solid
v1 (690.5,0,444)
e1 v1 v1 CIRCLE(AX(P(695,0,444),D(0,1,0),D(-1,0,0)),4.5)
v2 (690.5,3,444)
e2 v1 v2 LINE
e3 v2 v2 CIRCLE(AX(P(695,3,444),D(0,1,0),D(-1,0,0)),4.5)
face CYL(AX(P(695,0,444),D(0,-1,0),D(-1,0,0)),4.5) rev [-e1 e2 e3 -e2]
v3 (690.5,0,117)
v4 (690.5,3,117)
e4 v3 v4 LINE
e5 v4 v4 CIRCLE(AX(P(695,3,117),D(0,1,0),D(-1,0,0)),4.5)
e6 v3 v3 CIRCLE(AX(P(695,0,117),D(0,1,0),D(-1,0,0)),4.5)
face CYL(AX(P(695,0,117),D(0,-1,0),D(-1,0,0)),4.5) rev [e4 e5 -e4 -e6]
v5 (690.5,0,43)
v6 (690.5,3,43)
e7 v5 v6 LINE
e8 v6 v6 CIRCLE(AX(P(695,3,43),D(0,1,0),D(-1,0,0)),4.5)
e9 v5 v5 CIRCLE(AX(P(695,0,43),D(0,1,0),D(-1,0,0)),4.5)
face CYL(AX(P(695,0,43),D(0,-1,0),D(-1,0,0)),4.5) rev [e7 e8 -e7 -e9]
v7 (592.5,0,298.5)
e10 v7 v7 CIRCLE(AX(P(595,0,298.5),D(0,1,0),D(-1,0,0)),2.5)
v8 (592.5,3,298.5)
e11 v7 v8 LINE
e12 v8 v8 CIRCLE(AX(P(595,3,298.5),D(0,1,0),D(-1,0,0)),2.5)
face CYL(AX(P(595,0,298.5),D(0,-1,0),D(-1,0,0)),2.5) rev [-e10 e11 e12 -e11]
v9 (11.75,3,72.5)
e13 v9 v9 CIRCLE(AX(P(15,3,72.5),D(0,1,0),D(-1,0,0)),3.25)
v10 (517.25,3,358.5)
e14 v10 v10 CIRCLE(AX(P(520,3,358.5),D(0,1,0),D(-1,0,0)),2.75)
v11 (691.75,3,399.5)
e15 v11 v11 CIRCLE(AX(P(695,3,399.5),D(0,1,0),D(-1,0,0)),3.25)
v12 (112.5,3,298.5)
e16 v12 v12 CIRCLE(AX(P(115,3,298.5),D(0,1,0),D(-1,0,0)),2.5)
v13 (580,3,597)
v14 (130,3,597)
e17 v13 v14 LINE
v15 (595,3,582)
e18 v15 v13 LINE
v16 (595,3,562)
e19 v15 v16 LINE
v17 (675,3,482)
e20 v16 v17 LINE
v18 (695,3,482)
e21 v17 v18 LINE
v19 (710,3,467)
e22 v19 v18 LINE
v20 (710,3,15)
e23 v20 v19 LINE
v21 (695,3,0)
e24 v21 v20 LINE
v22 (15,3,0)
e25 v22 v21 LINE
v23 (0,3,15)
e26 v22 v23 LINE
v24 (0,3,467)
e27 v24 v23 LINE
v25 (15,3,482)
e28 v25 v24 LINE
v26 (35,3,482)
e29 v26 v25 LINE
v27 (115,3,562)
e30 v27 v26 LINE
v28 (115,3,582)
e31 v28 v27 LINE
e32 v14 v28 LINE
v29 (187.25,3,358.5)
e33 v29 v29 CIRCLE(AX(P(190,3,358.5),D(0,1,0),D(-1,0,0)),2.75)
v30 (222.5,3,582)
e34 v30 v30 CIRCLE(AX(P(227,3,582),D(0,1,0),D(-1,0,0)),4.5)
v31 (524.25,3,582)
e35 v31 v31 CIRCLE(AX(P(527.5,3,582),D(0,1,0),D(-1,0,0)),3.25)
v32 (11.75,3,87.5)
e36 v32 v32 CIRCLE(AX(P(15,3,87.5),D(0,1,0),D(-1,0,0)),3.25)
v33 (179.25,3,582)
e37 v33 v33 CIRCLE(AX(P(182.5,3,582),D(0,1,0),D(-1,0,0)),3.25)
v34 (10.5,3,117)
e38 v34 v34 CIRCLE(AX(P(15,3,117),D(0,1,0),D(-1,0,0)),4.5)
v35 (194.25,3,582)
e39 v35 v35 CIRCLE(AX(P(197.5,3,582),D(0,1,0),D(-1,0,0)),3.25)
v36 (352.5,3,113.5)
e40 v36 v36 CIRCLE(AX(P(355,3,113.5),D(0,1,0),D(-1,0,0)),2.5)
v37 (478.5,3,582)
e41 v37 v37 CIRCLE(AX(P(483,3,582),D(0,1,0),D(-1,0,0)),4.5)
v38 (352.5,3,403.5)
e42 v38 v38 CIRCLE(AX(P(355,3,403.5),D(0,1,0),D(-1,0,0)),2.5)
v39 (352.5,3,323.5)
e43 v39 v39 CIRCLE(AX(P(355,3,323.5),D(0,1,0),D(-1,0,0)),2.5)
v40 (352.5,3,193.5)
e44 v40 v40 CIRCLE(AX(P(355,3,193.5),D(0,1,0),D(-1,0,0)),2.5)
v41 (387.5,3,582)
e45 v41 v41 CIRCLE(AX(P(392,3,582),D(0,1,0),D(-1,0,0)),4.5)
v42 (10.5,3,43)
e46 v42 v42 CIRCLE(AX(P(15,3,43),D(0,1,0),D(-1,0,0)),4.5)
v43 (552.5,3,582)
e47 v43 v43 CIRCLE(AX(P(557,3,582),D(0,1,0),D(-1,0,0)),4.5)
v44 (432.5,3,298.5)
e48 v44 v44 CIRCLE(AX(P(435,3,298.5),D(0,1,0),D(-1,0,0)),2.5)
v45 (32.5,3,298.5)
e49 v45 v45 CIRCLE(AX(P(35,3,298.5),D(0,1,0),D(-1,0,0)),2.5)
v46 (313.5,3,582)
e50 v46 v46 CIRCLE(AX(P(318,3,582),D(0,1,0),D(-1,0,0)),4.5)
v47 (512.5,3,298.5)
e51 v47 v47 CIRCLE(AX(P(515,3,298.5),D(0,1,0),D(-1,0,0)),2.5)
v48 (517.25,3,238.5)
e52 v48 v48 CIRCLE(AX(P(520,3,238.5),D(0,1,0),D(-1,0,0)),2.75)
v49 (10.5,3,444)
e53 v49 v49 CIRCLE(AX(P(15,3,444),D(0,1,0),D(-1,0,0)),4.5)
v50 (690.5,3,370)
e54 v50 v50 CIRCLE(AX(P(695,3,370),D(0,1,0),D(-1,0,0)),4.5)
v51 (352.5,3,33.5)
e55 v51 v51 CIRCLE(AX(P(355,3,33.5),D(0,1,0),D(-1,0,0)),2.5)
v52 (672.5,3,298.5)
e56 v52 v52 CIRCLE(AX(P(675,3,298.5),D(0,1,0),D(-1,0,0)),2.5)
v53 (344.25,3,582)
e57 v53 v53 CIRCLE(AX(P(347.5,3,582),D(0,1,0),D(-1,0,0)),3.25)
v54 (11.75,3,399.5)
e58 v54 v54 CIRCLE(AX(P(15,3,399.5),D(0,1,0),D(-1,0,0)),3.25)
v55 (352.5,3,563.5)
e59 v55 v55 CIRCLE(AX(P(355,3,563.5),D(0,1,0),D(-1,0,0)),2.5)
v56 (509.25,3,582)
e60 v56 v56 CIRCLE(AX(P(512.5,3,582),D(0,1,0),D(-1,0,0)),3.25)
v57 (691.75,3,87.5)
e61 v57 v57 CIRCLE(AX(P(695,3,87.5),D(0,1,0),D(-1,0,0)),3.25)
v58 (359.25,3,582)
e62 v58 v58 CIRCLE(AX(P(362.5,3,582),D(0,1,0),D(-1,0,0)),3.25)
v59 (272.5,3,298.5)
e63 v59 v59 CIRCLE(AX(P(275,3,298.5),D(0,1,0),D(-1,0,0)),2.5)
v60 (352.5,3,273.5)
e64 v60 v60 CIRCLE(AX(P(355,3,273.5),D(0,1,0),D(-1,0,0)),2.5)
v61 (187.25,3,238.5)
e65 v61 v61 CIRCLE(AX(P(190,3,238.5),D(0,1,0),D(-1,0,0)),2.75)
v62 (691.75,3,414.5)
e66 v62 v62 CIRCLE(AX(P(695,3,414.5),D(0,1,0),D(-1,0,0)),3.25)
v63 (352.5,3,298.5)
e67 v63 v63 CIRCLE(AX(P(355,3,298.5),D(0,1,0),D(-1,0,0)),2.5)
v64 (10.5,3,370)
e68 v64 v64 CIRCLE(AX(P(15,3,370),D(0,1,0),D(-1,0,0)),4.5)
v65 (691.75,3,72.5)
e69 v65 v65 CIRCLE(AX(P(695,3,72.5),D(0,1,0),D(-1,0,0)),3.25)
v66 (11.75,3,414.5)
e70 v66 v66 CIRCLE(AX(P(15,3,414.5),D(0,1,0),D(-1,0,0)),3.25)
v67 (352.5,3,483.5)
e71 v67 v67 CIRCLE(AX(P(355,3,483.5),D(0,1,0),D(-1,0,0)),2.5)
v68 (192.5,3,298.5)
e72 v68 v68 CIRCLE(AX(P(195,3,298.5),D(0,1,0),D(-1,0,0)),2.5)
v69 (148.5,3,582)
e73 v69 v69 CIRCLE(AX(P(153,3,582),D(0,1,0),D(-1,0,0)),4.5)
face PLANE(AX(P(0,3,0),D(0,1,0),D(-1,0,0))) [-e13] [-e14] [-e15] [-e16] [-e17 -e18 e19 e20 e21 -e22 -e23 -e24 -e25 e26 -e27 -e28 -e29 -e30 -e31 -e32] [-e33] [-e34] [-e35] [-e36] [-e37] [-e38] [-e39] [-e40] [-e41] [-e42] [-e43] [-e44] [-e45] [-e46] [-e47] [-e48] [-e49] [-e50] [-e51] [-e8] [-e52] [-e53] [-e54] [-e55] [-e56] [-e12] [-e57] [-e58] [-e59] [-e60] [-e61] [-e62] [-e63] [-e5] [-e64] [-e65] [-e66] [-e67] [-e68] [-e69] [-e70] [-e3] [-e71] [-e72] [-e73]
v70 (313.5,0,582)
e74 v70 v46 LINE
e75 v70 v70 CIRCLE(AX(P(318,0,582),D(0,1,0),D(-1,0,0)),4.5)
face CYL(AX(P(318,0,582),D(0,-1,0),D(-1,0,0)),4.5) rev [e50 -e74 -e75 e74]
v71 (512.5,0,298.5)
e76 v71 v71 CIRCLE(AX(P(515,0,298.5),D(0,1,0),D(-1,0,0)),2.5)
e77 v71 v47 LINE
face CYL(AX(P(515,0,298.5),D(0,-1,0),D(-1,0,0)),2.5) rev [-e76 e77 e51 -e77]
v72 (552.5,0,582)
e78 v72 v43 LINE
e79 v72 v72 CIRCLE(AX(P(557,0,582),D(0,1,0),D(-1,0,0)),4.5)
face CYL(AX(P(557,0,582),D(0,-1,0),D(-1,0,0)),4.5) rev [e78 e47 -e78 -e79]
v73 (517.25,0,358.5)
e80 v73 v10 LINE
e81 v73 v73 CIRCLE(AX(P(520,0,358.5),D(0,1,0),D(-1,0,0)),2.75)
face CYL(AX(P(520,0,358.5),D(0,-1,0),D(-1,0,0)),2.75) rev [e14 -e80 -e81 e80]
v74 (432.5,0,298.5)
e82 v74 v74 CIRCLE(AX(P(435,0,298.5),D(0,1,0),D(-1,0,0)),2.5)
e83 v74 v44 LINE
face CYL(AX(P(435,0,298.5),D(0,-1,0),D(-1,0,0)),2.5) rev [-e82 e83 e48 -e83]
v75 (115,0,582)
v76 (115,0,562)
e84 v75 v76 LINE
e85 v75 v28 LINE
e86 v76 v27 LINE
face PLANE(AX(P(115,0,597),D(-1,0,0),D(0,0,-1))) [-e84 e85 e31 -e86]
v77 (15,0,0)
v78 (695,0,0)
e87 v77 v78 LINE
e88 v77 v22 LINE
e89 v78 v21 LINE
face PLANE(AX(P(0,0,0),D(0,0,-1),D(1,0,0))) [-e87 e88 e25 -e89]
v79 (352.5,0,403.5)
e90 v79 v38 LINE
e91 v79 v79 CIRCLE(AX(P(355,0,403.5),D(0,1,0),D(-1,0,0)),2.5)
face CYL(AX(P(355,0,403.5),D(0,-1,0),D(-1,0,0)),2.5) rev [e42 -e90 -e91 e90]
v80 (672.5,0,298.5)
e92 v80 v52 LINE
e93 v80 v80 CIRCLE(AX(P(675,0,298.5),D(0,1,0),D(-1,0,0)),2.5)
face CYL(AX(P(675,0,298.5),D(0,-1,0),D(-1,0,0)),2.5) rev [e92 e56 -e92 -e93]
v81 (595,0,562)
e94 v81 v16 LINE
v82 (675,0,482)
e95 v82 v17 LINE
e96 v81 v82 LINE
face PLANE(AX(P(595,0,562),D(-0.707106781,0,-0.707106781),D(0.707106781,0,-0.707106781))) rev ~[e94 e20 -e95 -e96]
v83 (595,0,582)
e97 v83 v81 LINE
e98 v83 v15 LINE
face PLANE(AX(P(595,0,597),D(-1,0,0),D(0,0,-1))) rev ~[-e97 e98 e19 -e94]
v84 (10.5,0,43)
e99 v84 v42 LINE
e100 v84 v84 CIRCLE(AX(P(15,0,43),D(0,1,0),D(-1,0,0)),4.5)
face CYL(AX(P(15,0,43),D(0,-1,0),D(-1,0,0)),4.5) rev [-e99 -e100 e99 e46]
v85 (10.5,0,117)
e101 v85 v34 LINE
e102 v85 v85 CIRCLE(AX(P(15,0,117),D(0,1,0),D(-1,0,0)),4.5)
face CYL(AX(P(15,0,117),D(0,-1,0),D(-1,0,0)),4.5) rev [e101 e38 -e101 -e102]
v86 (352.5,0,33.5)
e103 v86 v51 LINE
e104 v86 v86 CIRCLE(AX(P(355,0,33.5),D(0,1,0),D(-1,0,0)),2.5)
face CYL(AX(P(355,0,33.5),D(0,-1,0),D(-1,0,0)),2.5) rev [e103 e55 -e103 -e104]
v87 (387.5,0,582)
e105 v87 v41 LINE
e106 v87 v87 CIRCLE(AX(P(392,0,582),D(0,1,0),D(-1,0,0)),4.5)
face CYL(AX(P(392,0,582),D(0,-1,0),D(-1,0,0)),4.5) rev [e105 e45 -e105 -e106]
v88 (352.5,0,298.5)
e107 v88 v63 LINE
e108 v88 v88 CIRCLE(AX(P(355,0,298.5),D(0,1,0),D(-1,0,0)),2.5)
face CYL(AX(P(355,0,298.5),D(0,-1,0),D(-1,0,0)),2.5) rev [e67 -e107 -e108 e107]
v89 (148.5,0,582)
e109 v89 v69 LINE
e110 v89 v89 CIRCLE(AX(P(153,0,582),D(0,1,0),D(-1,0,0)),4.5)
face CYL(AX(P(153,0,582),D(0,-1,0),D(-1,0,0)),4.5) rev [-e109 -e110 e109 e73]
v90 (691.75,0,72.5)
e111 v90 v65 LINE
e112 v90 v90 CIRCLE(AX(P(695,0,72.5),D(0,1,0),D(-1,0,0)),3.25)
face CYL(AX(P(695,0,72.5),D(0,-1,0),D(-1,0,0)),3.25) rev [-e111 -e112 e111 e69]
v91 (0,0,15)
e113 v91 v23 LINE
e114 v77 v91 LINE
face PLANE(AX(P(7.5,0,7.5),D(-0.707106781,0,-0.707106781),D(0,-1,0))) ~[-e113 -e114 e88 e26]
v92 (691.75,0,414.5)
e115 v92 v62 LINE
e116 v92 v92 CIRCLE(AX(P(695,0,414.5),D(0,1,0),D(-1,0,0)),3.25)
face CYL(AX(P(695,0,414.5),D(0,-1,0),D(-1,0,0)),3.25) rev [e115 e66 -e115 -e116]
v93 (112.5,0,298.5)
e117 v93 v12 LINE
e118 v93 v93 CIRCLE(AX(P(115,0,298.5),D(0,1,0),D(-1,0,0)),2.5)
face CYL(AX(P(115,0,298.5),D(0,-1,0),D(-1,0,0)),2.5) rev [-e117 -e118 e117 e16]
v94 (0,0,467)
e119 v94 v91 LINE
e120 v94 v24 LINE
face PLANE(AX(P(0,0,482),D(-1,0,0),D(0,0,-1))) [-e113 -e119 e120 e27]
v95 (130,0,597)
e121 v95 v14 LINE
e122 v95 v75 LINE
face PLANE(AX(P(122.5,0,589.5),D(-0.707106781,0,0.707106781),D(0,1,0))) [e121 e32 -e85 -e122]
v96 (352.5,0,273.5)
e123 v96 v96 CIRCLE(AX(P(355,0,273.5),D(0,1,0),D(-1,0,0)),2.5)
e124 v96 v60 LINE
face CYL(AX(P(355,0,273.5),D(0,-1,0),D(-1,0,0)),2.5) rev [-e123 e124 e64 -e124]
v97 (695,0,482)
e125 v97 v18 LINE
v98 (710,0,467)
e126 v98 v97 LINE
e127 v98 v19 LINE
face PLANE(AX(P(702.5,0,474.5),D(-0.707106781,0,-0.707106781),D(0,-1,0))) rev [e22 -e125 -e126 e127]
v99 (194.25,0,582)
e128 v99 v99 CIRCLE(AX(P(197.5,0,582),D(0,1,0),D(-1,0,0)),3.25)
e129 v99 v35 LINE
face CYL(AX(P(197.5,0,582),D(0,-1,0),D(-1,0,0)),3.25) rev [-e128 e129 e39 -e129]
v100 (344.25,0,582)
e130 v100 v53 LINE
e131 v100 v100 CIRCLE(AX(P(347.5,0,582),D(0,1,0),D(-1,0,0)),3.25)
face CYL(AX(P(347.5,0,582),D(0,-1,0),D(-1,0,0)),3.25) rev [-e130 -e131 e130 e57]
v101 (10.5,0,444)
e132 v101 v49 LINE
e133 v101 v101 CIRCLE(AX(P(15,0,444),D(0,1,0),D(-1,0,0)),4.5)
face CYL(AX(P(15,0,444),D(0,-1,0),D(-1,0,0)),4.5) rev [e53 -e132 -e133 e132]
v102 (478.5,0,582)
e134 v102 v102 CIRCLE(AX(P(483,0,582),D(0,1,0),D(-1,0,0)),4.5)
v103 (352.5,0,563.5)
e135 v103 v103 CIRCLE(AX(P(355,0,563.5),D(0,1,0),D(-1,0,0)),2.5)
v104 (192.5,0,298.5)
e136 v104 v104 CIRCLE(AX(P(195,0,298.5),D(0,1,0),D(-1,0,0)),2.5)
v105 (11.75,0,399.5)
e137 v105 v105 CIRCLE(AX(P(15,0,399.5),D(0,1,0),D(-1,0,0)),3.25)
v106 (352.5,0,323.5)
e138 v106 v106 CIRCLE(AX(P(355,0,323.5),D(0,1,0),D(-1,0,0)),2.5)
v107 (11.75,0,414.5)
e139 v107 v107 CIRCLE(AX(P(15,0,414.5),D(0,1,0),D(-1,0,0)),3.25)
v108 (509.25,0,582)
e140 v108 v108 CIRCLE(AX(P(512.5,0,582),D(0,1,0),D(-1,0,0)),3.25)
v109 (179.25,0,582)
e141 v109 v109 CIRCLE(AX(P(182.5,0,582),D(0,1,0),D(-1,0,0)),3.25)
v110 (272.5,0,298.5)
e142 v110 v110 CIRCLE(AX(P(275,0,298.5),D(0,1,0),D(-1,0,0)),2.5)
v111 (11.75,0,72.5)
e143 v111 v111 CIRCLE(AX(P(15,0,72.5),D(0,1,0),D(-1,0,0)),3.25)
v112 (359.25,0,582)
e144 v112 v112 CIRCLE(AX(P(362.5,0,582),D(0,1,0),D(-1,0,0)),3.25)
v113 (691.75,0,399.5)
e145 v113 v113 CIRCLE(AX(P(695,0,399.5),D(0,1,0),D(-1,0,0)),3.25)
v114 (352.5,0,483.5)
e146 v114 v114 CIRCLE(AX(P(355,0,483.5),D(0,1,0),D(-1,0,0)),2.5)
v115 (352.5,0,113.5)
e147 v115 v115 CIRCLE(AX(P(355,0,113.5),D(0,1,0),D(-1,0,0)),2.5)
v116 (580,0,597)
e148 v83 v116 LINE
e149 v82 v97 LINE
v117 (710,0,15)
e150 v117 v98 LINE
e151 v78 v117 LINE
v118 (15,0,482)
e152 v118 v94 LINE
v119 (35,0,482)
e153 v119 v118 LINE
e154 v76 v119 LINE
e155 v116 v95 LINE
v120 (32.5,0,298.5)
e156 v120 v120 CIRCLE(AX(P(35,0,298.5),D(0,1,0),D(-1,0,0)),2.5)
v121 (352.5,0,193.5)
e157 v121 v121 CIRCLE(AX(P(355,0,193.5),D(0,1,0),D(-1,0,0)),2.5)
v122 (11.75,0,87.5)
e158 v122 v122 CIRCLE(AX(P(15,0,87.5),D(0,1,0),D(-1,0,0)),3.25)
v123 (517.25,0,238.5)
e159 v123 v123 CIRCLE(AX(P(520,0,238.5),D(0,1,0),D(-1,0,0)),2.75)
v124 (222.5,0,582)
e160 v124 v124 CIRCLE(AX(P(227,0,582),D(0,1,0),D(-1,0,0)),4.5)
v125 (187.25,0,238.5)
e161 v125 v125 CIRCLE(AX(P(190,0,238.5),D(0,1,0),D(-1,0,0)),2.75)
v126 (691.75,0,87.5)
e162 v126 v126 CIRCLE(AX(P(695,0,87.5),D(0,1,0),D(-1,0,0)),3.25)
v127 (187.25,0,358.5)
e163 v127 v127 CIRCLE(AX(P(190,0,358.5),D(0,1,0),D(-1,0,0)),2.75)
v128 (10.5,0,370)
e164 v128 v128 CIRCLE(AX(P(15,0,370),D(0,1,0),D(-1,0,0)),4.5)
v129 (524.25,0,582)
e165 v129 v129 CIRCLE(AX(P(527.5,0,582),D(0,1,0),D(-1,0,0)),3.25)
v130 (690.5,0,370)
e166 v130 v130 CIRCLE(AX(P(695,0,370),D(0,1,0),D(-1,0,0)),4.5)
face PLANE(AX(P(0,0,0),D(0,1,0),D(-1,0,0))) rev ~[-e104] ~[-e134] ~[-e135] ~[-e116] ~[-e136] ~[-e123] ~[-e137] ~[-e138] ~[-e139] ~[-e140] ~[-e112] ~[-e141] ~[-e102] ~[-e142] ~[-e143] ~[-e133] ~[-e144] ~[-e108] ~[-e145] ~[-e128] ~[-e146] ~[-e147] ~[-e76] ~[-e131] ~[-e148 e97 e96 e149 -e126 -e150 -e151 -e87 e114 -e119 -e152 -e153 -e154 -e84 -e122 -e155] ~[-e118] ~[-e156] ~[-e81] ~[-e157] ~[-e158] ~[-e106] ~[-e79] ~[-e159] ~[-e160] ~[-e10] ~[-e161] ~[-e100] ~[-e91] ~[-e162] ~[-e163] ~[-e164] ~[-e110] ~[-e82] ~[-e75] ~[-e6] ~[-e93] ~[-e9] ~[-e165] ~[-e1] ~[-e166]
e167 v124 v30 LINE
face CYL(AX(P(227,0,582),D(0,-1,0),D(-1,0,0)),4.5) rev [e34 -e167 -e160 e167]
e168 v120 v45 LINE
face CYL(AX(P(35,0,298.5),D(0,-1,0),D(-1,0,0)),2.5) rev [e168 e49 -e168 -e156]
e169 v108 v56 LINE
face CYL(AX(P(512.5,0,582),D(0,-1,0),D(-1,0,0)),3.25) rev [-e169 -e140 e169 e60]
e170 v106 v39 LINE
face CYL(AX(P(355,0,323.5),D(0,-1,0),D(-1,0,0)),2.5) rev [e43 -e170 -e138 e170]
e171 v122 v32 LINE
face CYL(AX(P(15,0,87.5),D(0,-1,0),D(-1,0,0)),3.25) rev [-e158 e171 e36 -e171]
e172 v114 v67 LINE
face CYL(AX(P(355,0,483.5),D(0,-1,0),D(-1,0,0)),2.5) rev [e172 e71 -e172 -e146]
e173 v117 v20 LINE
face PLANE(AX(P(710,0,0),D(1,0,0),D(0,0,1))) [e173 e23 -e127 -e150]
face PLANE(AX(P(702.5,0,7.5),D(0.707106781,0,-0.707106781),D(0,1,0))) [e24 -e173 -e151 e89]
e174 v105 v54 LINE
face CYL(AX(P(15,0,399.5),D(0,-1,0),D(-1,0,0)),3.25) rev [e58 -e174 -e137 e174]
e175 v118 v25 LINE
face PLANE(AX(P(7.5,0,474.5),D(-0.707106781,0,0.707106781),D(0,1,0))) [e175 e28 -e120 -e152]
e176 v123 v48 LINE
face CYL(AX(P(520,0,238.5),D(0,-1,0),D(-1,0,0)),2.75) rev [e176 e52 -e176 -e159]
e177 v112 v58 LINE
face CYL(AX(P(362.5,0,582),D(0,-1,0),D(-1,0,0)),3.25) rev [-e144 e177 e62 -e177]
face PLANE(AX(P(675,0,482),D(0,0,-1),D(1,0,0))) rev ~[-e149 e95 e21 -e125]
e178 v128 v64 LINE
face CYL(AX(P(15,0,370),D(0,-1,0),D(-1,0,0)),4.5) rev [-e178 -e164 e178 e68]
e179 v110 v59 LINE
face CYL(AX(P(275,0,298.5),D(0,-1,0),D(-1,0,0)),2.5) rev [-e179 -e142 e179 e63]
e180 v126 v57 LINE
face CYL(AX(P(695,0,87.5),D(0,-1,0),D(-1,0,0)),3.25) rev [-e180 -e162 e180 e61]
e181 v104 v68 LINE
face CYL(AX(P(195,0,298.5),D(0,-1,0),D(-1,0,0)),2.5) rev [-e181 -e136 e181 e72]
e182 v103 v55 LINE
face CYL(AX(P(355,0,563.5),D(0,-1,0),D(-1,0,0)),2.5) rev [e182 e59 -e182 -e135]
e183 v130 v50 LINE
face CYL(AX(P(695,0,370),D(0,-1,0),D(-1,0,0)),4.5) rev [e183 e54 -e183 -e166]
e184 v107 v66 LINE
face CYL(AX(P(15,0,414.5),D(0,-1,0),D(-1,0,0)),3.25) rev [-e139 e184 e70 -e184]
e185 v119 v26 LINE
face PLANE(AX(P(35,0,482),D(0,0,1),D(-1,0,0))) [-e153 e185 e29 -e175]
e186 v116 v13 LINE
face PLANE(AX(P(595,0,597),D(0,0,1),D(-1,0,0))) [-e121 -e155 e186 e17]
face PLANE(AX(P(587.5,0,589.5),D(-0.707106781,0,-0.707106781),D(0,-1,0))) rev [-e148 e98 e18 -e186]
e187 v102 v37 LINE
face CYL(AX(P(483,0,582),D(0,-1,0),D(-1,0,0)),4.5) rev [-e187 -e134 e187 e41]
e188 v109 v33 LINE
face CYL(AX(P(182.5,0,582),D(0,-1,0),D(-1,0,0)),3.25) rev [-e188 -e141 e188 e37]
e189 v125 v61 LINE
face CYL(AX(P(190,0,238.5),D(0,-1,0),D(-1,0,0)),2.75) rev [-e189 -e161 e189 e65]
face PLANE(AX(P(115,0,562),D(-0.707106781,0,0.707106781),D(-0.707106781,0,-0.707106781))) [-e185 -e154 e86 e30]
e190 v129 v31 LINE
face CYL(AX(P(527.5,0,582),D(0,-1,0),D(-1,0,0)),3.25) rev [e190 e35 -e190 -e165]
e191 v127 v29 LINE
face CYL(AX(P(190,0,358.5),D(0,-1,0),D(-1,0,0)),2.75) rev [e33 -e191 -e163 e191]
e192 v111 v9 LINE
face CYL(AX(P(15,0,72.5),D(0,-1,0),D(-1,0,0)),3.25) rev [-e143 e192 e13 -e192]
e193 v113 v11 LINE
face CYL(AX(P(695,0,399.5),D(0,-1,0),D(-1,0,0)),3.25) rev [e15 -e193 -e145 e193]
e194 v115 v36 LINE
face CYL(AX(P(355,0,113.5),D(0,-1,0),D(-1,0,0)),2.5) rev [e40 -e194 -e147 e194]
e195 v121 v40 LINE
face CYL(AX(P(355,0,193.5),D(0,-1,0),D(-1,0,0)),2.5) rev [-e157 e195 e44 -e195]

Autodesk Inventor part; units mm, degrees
ref_plane "YZ Plane" through (0, 0, 0) normal (1, 0, 0) x (0, 1, 0)
ref_plane "XZ Plane" through (0, 0, 0) normal (0, 1, 0) x (-1, 0, 0)
ref_plane "XY Plane" through (0, 0, 0) normal (0, 0, 1) x (1, 0, 0)
sketch "Skizze1" plane through (0, 0, 0) normal (0, 1, 0) x (-1, 0, 0)
  line L0 (0, 0) -> (-710, 0)
  line L1 (-710, 0) -> (-710, 597)
  line L2 (-710, 597) -> (0, 597)
  line L3 (0, 597) -> (0, 0)
  line L4 (-355, 0) -> (-355, 597) construction
  line L5 (0, 298.5) -> (-710, 298.5) construction
  line L6 (-190, 0) -> (-190, 597) construction
  line L7 (-520, 0) -> (-520, 597) construction
  line L8 (-710, 407) -> (0, 407) construction
  line L9 (0, 80) -> (-710, 80) construction
  line L10 (-695, 582) -> (-695, 15) construction
  line L11 (-695, 15) -> (-15, 15) construction
  line L12 (-15, 15) -> (-15, 582) construction
  line L13 (-15, 582) -> (-695, 582) construction
  line L14 (-23, 362) -> (-7, 362) construction
  line L15 (-7, 362) -> (-7, 452) construction
  line L16 (-7, 452) -> (-23, 452) construction
  line L17 (-23, 452) -> (-23, 362) construction
  line L18 (-23, 362) -> (-7, 452) construction
  line L19 (-7, 362) -> (-23, 452) construction
  line L20 (-142.5, 590) -> (-237.5, 590) construction
  line L21 (-237.5, 590) -> (-237.5, 574) construction
  line L22 (-237.5, 574) -> (-142.5, 574) construction
  line L23 (-142.5, 574) -> (-142.5, 590) construction
  line L24 (-142.5, 590) -> (-237.5, 574) construction
  line L25 (-237.5, 590) -> (-142.5, 574) construction
  line L26 (-307.5, 590) -> (-402.5, 590) construction
  line L27 (-402.5, 590) -> (-402.5, 574) construction
  line L28 (-402.5, 574) -> (-307.5, 574) construction
  line L29 (-307.5, 574) -> (-307.5, 590) construction
  line L30 (-307.5, 590) -> (-402.5, 574) construction
  line L31 (-402.5, 590) -> (-307.5, 574) construction
  circle A0 centre (-15, 399.5) radius 3.25
  circle A1 centre (-15, 370) radius 4.5
  circle A2 centre (-15, 414.5) radius 3.25
  circle A3 centre (-15, 444) radius 4.5
  circle A4 centre (-182.5, 582) radius 3.25
  circle A5 centre (-153, 582) radius 4.5
  circle A6 centre (-318, 582) radius 4.5
  circle A7 centre (-347.5, 582) radius 3.25
  circle A8 centre (-197.5, 582) radius 3.25
  circle A9 centre (-227, 582) radius 4.5
  circle A10 centre (-392, 582) radius 4.5
  circle A11 centre (-362.5, 582) radius 3.25
  circle A12 centre (-695, 399.5) radius 3.25
  circle A13 centre (-695, 370) radius 4.5
  circle A14 centre (-695, 444) radius 4.5
  circle A15 centre (-695, 414.5) radius 3.25
  circle A16 centre (-527.5, 582) radius 3.25
  circle A17 centre (-557, 582) radius 4.5
  circle A18 centre (-512.5, 582) radius 3.25
  circle A19 centre (-483, 582) radius 4.5
  circle A20 centre (-15, 43) radius 4.5
  circle A21 centre (-15, 72.5) radius 3.25
  circle A22 centre (-190, 238.5) radius 2.75
  circle A23 centre (-190, 358.5) radius 2.75
  circle A24 centre (-520, 238.5) radius 2.75
  circle A25 centre (-520, 358.5) radius 2.75
  circle A26 centre (-15, 117) radius 4.5
  circle A27 centre (-15, 87.5) radius 3.25
  circle A28 centre (-695, 43) radius 4.5
  circle A29 centre (-695, 72.5) radius 3.25
  circle A30 centre (-695, 87.5) radius 3.25
  circle A31 centre (-695, 117) radius 4.5
  line L32 (-115, 597) -> (-115, 562)
  line L33 (-115, 562) -> (-35, 482)
  line L34 (-35, 482) -> (0, 482)
  line L35 (-595, 597) -> (-595, 562)
  line L36 (-595, 562) -> (-675, 482)
  line L37 (-675, 482) -> (-710, 482)
  point P0 (-15, 407)
  point P1 (-190, 582)
  point P2 (-355, 582)
  point P3 (-190, 298.5)
  dimension "d0" = 710
  dimension "d1" = 597
  dimension "d2" = 190
  dimension "d3" = 80
  dimension "d4" = 190
  dimension "d5" = 190
  dimension "d6" = 15
  dimension "d7" = 16
  dimension "d8" = 90
  dimension "d9" = 95
  dimension "d10" = 16
  dimension "d11" = 95
  dimension "d12" = 16
  dimension "d13" = 6.5
  dimension "d14" = 7.5
  dimension "d15" = 9
  dimension "d16" = 37
  dimension "d17" = 6.5
  dimension "d18" = 9
  dimension "d19" = 7.5
  dimension "d20" = 37
  dimension "d21" = 6.5
  dimension "d22" = 9
  dimension "d23" = 7.5
  dimension "d24" = 37
  dimension "d30" = 5.5
  dimension "d31" = 60
  dimension "d34" = 6.5
  dimension "d35" = 9
  dimension "d36" = 7.5
  dimension "d37" = 37
  dimension "d80" = 680
  dimension "d81" = 45
  dimension "d83" = 115
  dimension "d84" = 115
  dimension "d85" = 35
extrude "Ex-Platte" add sketch "Skizze1" along normal blind 3 contours L0 L1 L37 L36 L35 L2 L32 L33 L34 L3
chamfer "Fase-15mm" distance 15 angle 45 6 edges at (710, 1.5, 0) (0, 1.5, 0) (0, 1.5, 482) (115, 1.5, 597) (595, 1.5, 597) (710, 1.5, 482)
sketch "Profil-Verstärkung" plane through (0, 0, 0) normal (0, 1, 0) x (-1, 0, 0)
  line L0 (-695, 0) -> (-15, 0) projected
  line L1 (0, 15) -> (0, 482) projected
  line L2 (-115, 597) -> (-595, 597) projected
  line L3 (-710, 482) -> (-710, 15) projected
  line L4 (0, 298.5) -> (-710, 298.5) construction
  circle A0 centre (-15, 117) radius 4.5 projected
  circle A1 centre (-15, 370) radius 4.5 projected
  circle A2 centre (-190, 358.5) radius 2.75 projected
  circle A3 centre (-190, 238.5) radius 2.75 projected
  circle A4 centre (-227, 582) radius 4.5 projected
  circle A5 centre (-318, 582) radius 4.5 projected
  line L5 (-355, 0) -> (-355, 597) construction
  circle A6 centre (-355, 298.5) radius 2.5
  circle A7 centre (-435, 298.5) radius 2.5
  circle A8 centre (-515, 298.5) radius 2.5
  circle A9 centre (-595, 298.5) radius 2.5
  circle A10 centre (-675, 298.5) radius 2.5
  circle A11 centre (-355, 323.5) radius 2.5
  circle A12 centre (-355, 403.5) radius 2.5
  circle A13 centre (-355, 483.5) radius 2.5
  circle A14 centre (-355, 563.5) radius 2.5
  circle A15 centre (-275, 298.5) radius 2.5
  circle A16 centre (-195, 298.5) radius 2.5
  circle A17 centre (-115, 298.5) radius 2.5
  circle A18 centre (-35, 298.5) radius 2.5
  circle A19 centre (-355, 273.5) radius 2.5
  circle A20 centre (-355, 193.5) radius 2.5
  circle A21 centre (-355, 113.5) radius 2.5
  circle A22 centre (-355, 33.5) radius 2.5
  point P0 (0, 0)
  point P1 (0, 582)
  point P2 (-15, 597)
  point P3 (-695, 597)
  point P4 (-710, 582)
  dimension "d38" = 710
  dimension "d40" = 121.5
  dimension "d42" = 11.5
  dimension "d61" = 5
  dimension "d64" = 80
  dimension "d69" = 5
  dimension "d70" = 25
  dimension "d73" = 80
extrude "Ex-ProfilBohrungen" cut sketch "Profil-Verstärkung" along normal up to surface (3 mm away) contours A6 | A7 | A8 | A9 | A10 | A11 | A12 | A13 | A14 | A15 | A16 | A17 | A18 | A19 | A20 | A21 | A22
equation "\"d5\" = d4"
equation "\"d17\" = d13"
equation "\"d18\" = d15"
equation "\"d19\" = d14"
equation "\"d20\" = d16"
equation "\"d21\" = d13"
equation "\"d22\" = d15"
equation "\"d23\" = d14"
equation "\"d24\" = d16"
equation "\"d34\" = d13"
equation "\"d35\" = d15"
equation "\"d36\" = d14"
equation "\"d37\" = d16"
equation "\"d84\" = d83"
equation "\"d69\" = d61"
properties part number "enc-FrontPanel Unten"
